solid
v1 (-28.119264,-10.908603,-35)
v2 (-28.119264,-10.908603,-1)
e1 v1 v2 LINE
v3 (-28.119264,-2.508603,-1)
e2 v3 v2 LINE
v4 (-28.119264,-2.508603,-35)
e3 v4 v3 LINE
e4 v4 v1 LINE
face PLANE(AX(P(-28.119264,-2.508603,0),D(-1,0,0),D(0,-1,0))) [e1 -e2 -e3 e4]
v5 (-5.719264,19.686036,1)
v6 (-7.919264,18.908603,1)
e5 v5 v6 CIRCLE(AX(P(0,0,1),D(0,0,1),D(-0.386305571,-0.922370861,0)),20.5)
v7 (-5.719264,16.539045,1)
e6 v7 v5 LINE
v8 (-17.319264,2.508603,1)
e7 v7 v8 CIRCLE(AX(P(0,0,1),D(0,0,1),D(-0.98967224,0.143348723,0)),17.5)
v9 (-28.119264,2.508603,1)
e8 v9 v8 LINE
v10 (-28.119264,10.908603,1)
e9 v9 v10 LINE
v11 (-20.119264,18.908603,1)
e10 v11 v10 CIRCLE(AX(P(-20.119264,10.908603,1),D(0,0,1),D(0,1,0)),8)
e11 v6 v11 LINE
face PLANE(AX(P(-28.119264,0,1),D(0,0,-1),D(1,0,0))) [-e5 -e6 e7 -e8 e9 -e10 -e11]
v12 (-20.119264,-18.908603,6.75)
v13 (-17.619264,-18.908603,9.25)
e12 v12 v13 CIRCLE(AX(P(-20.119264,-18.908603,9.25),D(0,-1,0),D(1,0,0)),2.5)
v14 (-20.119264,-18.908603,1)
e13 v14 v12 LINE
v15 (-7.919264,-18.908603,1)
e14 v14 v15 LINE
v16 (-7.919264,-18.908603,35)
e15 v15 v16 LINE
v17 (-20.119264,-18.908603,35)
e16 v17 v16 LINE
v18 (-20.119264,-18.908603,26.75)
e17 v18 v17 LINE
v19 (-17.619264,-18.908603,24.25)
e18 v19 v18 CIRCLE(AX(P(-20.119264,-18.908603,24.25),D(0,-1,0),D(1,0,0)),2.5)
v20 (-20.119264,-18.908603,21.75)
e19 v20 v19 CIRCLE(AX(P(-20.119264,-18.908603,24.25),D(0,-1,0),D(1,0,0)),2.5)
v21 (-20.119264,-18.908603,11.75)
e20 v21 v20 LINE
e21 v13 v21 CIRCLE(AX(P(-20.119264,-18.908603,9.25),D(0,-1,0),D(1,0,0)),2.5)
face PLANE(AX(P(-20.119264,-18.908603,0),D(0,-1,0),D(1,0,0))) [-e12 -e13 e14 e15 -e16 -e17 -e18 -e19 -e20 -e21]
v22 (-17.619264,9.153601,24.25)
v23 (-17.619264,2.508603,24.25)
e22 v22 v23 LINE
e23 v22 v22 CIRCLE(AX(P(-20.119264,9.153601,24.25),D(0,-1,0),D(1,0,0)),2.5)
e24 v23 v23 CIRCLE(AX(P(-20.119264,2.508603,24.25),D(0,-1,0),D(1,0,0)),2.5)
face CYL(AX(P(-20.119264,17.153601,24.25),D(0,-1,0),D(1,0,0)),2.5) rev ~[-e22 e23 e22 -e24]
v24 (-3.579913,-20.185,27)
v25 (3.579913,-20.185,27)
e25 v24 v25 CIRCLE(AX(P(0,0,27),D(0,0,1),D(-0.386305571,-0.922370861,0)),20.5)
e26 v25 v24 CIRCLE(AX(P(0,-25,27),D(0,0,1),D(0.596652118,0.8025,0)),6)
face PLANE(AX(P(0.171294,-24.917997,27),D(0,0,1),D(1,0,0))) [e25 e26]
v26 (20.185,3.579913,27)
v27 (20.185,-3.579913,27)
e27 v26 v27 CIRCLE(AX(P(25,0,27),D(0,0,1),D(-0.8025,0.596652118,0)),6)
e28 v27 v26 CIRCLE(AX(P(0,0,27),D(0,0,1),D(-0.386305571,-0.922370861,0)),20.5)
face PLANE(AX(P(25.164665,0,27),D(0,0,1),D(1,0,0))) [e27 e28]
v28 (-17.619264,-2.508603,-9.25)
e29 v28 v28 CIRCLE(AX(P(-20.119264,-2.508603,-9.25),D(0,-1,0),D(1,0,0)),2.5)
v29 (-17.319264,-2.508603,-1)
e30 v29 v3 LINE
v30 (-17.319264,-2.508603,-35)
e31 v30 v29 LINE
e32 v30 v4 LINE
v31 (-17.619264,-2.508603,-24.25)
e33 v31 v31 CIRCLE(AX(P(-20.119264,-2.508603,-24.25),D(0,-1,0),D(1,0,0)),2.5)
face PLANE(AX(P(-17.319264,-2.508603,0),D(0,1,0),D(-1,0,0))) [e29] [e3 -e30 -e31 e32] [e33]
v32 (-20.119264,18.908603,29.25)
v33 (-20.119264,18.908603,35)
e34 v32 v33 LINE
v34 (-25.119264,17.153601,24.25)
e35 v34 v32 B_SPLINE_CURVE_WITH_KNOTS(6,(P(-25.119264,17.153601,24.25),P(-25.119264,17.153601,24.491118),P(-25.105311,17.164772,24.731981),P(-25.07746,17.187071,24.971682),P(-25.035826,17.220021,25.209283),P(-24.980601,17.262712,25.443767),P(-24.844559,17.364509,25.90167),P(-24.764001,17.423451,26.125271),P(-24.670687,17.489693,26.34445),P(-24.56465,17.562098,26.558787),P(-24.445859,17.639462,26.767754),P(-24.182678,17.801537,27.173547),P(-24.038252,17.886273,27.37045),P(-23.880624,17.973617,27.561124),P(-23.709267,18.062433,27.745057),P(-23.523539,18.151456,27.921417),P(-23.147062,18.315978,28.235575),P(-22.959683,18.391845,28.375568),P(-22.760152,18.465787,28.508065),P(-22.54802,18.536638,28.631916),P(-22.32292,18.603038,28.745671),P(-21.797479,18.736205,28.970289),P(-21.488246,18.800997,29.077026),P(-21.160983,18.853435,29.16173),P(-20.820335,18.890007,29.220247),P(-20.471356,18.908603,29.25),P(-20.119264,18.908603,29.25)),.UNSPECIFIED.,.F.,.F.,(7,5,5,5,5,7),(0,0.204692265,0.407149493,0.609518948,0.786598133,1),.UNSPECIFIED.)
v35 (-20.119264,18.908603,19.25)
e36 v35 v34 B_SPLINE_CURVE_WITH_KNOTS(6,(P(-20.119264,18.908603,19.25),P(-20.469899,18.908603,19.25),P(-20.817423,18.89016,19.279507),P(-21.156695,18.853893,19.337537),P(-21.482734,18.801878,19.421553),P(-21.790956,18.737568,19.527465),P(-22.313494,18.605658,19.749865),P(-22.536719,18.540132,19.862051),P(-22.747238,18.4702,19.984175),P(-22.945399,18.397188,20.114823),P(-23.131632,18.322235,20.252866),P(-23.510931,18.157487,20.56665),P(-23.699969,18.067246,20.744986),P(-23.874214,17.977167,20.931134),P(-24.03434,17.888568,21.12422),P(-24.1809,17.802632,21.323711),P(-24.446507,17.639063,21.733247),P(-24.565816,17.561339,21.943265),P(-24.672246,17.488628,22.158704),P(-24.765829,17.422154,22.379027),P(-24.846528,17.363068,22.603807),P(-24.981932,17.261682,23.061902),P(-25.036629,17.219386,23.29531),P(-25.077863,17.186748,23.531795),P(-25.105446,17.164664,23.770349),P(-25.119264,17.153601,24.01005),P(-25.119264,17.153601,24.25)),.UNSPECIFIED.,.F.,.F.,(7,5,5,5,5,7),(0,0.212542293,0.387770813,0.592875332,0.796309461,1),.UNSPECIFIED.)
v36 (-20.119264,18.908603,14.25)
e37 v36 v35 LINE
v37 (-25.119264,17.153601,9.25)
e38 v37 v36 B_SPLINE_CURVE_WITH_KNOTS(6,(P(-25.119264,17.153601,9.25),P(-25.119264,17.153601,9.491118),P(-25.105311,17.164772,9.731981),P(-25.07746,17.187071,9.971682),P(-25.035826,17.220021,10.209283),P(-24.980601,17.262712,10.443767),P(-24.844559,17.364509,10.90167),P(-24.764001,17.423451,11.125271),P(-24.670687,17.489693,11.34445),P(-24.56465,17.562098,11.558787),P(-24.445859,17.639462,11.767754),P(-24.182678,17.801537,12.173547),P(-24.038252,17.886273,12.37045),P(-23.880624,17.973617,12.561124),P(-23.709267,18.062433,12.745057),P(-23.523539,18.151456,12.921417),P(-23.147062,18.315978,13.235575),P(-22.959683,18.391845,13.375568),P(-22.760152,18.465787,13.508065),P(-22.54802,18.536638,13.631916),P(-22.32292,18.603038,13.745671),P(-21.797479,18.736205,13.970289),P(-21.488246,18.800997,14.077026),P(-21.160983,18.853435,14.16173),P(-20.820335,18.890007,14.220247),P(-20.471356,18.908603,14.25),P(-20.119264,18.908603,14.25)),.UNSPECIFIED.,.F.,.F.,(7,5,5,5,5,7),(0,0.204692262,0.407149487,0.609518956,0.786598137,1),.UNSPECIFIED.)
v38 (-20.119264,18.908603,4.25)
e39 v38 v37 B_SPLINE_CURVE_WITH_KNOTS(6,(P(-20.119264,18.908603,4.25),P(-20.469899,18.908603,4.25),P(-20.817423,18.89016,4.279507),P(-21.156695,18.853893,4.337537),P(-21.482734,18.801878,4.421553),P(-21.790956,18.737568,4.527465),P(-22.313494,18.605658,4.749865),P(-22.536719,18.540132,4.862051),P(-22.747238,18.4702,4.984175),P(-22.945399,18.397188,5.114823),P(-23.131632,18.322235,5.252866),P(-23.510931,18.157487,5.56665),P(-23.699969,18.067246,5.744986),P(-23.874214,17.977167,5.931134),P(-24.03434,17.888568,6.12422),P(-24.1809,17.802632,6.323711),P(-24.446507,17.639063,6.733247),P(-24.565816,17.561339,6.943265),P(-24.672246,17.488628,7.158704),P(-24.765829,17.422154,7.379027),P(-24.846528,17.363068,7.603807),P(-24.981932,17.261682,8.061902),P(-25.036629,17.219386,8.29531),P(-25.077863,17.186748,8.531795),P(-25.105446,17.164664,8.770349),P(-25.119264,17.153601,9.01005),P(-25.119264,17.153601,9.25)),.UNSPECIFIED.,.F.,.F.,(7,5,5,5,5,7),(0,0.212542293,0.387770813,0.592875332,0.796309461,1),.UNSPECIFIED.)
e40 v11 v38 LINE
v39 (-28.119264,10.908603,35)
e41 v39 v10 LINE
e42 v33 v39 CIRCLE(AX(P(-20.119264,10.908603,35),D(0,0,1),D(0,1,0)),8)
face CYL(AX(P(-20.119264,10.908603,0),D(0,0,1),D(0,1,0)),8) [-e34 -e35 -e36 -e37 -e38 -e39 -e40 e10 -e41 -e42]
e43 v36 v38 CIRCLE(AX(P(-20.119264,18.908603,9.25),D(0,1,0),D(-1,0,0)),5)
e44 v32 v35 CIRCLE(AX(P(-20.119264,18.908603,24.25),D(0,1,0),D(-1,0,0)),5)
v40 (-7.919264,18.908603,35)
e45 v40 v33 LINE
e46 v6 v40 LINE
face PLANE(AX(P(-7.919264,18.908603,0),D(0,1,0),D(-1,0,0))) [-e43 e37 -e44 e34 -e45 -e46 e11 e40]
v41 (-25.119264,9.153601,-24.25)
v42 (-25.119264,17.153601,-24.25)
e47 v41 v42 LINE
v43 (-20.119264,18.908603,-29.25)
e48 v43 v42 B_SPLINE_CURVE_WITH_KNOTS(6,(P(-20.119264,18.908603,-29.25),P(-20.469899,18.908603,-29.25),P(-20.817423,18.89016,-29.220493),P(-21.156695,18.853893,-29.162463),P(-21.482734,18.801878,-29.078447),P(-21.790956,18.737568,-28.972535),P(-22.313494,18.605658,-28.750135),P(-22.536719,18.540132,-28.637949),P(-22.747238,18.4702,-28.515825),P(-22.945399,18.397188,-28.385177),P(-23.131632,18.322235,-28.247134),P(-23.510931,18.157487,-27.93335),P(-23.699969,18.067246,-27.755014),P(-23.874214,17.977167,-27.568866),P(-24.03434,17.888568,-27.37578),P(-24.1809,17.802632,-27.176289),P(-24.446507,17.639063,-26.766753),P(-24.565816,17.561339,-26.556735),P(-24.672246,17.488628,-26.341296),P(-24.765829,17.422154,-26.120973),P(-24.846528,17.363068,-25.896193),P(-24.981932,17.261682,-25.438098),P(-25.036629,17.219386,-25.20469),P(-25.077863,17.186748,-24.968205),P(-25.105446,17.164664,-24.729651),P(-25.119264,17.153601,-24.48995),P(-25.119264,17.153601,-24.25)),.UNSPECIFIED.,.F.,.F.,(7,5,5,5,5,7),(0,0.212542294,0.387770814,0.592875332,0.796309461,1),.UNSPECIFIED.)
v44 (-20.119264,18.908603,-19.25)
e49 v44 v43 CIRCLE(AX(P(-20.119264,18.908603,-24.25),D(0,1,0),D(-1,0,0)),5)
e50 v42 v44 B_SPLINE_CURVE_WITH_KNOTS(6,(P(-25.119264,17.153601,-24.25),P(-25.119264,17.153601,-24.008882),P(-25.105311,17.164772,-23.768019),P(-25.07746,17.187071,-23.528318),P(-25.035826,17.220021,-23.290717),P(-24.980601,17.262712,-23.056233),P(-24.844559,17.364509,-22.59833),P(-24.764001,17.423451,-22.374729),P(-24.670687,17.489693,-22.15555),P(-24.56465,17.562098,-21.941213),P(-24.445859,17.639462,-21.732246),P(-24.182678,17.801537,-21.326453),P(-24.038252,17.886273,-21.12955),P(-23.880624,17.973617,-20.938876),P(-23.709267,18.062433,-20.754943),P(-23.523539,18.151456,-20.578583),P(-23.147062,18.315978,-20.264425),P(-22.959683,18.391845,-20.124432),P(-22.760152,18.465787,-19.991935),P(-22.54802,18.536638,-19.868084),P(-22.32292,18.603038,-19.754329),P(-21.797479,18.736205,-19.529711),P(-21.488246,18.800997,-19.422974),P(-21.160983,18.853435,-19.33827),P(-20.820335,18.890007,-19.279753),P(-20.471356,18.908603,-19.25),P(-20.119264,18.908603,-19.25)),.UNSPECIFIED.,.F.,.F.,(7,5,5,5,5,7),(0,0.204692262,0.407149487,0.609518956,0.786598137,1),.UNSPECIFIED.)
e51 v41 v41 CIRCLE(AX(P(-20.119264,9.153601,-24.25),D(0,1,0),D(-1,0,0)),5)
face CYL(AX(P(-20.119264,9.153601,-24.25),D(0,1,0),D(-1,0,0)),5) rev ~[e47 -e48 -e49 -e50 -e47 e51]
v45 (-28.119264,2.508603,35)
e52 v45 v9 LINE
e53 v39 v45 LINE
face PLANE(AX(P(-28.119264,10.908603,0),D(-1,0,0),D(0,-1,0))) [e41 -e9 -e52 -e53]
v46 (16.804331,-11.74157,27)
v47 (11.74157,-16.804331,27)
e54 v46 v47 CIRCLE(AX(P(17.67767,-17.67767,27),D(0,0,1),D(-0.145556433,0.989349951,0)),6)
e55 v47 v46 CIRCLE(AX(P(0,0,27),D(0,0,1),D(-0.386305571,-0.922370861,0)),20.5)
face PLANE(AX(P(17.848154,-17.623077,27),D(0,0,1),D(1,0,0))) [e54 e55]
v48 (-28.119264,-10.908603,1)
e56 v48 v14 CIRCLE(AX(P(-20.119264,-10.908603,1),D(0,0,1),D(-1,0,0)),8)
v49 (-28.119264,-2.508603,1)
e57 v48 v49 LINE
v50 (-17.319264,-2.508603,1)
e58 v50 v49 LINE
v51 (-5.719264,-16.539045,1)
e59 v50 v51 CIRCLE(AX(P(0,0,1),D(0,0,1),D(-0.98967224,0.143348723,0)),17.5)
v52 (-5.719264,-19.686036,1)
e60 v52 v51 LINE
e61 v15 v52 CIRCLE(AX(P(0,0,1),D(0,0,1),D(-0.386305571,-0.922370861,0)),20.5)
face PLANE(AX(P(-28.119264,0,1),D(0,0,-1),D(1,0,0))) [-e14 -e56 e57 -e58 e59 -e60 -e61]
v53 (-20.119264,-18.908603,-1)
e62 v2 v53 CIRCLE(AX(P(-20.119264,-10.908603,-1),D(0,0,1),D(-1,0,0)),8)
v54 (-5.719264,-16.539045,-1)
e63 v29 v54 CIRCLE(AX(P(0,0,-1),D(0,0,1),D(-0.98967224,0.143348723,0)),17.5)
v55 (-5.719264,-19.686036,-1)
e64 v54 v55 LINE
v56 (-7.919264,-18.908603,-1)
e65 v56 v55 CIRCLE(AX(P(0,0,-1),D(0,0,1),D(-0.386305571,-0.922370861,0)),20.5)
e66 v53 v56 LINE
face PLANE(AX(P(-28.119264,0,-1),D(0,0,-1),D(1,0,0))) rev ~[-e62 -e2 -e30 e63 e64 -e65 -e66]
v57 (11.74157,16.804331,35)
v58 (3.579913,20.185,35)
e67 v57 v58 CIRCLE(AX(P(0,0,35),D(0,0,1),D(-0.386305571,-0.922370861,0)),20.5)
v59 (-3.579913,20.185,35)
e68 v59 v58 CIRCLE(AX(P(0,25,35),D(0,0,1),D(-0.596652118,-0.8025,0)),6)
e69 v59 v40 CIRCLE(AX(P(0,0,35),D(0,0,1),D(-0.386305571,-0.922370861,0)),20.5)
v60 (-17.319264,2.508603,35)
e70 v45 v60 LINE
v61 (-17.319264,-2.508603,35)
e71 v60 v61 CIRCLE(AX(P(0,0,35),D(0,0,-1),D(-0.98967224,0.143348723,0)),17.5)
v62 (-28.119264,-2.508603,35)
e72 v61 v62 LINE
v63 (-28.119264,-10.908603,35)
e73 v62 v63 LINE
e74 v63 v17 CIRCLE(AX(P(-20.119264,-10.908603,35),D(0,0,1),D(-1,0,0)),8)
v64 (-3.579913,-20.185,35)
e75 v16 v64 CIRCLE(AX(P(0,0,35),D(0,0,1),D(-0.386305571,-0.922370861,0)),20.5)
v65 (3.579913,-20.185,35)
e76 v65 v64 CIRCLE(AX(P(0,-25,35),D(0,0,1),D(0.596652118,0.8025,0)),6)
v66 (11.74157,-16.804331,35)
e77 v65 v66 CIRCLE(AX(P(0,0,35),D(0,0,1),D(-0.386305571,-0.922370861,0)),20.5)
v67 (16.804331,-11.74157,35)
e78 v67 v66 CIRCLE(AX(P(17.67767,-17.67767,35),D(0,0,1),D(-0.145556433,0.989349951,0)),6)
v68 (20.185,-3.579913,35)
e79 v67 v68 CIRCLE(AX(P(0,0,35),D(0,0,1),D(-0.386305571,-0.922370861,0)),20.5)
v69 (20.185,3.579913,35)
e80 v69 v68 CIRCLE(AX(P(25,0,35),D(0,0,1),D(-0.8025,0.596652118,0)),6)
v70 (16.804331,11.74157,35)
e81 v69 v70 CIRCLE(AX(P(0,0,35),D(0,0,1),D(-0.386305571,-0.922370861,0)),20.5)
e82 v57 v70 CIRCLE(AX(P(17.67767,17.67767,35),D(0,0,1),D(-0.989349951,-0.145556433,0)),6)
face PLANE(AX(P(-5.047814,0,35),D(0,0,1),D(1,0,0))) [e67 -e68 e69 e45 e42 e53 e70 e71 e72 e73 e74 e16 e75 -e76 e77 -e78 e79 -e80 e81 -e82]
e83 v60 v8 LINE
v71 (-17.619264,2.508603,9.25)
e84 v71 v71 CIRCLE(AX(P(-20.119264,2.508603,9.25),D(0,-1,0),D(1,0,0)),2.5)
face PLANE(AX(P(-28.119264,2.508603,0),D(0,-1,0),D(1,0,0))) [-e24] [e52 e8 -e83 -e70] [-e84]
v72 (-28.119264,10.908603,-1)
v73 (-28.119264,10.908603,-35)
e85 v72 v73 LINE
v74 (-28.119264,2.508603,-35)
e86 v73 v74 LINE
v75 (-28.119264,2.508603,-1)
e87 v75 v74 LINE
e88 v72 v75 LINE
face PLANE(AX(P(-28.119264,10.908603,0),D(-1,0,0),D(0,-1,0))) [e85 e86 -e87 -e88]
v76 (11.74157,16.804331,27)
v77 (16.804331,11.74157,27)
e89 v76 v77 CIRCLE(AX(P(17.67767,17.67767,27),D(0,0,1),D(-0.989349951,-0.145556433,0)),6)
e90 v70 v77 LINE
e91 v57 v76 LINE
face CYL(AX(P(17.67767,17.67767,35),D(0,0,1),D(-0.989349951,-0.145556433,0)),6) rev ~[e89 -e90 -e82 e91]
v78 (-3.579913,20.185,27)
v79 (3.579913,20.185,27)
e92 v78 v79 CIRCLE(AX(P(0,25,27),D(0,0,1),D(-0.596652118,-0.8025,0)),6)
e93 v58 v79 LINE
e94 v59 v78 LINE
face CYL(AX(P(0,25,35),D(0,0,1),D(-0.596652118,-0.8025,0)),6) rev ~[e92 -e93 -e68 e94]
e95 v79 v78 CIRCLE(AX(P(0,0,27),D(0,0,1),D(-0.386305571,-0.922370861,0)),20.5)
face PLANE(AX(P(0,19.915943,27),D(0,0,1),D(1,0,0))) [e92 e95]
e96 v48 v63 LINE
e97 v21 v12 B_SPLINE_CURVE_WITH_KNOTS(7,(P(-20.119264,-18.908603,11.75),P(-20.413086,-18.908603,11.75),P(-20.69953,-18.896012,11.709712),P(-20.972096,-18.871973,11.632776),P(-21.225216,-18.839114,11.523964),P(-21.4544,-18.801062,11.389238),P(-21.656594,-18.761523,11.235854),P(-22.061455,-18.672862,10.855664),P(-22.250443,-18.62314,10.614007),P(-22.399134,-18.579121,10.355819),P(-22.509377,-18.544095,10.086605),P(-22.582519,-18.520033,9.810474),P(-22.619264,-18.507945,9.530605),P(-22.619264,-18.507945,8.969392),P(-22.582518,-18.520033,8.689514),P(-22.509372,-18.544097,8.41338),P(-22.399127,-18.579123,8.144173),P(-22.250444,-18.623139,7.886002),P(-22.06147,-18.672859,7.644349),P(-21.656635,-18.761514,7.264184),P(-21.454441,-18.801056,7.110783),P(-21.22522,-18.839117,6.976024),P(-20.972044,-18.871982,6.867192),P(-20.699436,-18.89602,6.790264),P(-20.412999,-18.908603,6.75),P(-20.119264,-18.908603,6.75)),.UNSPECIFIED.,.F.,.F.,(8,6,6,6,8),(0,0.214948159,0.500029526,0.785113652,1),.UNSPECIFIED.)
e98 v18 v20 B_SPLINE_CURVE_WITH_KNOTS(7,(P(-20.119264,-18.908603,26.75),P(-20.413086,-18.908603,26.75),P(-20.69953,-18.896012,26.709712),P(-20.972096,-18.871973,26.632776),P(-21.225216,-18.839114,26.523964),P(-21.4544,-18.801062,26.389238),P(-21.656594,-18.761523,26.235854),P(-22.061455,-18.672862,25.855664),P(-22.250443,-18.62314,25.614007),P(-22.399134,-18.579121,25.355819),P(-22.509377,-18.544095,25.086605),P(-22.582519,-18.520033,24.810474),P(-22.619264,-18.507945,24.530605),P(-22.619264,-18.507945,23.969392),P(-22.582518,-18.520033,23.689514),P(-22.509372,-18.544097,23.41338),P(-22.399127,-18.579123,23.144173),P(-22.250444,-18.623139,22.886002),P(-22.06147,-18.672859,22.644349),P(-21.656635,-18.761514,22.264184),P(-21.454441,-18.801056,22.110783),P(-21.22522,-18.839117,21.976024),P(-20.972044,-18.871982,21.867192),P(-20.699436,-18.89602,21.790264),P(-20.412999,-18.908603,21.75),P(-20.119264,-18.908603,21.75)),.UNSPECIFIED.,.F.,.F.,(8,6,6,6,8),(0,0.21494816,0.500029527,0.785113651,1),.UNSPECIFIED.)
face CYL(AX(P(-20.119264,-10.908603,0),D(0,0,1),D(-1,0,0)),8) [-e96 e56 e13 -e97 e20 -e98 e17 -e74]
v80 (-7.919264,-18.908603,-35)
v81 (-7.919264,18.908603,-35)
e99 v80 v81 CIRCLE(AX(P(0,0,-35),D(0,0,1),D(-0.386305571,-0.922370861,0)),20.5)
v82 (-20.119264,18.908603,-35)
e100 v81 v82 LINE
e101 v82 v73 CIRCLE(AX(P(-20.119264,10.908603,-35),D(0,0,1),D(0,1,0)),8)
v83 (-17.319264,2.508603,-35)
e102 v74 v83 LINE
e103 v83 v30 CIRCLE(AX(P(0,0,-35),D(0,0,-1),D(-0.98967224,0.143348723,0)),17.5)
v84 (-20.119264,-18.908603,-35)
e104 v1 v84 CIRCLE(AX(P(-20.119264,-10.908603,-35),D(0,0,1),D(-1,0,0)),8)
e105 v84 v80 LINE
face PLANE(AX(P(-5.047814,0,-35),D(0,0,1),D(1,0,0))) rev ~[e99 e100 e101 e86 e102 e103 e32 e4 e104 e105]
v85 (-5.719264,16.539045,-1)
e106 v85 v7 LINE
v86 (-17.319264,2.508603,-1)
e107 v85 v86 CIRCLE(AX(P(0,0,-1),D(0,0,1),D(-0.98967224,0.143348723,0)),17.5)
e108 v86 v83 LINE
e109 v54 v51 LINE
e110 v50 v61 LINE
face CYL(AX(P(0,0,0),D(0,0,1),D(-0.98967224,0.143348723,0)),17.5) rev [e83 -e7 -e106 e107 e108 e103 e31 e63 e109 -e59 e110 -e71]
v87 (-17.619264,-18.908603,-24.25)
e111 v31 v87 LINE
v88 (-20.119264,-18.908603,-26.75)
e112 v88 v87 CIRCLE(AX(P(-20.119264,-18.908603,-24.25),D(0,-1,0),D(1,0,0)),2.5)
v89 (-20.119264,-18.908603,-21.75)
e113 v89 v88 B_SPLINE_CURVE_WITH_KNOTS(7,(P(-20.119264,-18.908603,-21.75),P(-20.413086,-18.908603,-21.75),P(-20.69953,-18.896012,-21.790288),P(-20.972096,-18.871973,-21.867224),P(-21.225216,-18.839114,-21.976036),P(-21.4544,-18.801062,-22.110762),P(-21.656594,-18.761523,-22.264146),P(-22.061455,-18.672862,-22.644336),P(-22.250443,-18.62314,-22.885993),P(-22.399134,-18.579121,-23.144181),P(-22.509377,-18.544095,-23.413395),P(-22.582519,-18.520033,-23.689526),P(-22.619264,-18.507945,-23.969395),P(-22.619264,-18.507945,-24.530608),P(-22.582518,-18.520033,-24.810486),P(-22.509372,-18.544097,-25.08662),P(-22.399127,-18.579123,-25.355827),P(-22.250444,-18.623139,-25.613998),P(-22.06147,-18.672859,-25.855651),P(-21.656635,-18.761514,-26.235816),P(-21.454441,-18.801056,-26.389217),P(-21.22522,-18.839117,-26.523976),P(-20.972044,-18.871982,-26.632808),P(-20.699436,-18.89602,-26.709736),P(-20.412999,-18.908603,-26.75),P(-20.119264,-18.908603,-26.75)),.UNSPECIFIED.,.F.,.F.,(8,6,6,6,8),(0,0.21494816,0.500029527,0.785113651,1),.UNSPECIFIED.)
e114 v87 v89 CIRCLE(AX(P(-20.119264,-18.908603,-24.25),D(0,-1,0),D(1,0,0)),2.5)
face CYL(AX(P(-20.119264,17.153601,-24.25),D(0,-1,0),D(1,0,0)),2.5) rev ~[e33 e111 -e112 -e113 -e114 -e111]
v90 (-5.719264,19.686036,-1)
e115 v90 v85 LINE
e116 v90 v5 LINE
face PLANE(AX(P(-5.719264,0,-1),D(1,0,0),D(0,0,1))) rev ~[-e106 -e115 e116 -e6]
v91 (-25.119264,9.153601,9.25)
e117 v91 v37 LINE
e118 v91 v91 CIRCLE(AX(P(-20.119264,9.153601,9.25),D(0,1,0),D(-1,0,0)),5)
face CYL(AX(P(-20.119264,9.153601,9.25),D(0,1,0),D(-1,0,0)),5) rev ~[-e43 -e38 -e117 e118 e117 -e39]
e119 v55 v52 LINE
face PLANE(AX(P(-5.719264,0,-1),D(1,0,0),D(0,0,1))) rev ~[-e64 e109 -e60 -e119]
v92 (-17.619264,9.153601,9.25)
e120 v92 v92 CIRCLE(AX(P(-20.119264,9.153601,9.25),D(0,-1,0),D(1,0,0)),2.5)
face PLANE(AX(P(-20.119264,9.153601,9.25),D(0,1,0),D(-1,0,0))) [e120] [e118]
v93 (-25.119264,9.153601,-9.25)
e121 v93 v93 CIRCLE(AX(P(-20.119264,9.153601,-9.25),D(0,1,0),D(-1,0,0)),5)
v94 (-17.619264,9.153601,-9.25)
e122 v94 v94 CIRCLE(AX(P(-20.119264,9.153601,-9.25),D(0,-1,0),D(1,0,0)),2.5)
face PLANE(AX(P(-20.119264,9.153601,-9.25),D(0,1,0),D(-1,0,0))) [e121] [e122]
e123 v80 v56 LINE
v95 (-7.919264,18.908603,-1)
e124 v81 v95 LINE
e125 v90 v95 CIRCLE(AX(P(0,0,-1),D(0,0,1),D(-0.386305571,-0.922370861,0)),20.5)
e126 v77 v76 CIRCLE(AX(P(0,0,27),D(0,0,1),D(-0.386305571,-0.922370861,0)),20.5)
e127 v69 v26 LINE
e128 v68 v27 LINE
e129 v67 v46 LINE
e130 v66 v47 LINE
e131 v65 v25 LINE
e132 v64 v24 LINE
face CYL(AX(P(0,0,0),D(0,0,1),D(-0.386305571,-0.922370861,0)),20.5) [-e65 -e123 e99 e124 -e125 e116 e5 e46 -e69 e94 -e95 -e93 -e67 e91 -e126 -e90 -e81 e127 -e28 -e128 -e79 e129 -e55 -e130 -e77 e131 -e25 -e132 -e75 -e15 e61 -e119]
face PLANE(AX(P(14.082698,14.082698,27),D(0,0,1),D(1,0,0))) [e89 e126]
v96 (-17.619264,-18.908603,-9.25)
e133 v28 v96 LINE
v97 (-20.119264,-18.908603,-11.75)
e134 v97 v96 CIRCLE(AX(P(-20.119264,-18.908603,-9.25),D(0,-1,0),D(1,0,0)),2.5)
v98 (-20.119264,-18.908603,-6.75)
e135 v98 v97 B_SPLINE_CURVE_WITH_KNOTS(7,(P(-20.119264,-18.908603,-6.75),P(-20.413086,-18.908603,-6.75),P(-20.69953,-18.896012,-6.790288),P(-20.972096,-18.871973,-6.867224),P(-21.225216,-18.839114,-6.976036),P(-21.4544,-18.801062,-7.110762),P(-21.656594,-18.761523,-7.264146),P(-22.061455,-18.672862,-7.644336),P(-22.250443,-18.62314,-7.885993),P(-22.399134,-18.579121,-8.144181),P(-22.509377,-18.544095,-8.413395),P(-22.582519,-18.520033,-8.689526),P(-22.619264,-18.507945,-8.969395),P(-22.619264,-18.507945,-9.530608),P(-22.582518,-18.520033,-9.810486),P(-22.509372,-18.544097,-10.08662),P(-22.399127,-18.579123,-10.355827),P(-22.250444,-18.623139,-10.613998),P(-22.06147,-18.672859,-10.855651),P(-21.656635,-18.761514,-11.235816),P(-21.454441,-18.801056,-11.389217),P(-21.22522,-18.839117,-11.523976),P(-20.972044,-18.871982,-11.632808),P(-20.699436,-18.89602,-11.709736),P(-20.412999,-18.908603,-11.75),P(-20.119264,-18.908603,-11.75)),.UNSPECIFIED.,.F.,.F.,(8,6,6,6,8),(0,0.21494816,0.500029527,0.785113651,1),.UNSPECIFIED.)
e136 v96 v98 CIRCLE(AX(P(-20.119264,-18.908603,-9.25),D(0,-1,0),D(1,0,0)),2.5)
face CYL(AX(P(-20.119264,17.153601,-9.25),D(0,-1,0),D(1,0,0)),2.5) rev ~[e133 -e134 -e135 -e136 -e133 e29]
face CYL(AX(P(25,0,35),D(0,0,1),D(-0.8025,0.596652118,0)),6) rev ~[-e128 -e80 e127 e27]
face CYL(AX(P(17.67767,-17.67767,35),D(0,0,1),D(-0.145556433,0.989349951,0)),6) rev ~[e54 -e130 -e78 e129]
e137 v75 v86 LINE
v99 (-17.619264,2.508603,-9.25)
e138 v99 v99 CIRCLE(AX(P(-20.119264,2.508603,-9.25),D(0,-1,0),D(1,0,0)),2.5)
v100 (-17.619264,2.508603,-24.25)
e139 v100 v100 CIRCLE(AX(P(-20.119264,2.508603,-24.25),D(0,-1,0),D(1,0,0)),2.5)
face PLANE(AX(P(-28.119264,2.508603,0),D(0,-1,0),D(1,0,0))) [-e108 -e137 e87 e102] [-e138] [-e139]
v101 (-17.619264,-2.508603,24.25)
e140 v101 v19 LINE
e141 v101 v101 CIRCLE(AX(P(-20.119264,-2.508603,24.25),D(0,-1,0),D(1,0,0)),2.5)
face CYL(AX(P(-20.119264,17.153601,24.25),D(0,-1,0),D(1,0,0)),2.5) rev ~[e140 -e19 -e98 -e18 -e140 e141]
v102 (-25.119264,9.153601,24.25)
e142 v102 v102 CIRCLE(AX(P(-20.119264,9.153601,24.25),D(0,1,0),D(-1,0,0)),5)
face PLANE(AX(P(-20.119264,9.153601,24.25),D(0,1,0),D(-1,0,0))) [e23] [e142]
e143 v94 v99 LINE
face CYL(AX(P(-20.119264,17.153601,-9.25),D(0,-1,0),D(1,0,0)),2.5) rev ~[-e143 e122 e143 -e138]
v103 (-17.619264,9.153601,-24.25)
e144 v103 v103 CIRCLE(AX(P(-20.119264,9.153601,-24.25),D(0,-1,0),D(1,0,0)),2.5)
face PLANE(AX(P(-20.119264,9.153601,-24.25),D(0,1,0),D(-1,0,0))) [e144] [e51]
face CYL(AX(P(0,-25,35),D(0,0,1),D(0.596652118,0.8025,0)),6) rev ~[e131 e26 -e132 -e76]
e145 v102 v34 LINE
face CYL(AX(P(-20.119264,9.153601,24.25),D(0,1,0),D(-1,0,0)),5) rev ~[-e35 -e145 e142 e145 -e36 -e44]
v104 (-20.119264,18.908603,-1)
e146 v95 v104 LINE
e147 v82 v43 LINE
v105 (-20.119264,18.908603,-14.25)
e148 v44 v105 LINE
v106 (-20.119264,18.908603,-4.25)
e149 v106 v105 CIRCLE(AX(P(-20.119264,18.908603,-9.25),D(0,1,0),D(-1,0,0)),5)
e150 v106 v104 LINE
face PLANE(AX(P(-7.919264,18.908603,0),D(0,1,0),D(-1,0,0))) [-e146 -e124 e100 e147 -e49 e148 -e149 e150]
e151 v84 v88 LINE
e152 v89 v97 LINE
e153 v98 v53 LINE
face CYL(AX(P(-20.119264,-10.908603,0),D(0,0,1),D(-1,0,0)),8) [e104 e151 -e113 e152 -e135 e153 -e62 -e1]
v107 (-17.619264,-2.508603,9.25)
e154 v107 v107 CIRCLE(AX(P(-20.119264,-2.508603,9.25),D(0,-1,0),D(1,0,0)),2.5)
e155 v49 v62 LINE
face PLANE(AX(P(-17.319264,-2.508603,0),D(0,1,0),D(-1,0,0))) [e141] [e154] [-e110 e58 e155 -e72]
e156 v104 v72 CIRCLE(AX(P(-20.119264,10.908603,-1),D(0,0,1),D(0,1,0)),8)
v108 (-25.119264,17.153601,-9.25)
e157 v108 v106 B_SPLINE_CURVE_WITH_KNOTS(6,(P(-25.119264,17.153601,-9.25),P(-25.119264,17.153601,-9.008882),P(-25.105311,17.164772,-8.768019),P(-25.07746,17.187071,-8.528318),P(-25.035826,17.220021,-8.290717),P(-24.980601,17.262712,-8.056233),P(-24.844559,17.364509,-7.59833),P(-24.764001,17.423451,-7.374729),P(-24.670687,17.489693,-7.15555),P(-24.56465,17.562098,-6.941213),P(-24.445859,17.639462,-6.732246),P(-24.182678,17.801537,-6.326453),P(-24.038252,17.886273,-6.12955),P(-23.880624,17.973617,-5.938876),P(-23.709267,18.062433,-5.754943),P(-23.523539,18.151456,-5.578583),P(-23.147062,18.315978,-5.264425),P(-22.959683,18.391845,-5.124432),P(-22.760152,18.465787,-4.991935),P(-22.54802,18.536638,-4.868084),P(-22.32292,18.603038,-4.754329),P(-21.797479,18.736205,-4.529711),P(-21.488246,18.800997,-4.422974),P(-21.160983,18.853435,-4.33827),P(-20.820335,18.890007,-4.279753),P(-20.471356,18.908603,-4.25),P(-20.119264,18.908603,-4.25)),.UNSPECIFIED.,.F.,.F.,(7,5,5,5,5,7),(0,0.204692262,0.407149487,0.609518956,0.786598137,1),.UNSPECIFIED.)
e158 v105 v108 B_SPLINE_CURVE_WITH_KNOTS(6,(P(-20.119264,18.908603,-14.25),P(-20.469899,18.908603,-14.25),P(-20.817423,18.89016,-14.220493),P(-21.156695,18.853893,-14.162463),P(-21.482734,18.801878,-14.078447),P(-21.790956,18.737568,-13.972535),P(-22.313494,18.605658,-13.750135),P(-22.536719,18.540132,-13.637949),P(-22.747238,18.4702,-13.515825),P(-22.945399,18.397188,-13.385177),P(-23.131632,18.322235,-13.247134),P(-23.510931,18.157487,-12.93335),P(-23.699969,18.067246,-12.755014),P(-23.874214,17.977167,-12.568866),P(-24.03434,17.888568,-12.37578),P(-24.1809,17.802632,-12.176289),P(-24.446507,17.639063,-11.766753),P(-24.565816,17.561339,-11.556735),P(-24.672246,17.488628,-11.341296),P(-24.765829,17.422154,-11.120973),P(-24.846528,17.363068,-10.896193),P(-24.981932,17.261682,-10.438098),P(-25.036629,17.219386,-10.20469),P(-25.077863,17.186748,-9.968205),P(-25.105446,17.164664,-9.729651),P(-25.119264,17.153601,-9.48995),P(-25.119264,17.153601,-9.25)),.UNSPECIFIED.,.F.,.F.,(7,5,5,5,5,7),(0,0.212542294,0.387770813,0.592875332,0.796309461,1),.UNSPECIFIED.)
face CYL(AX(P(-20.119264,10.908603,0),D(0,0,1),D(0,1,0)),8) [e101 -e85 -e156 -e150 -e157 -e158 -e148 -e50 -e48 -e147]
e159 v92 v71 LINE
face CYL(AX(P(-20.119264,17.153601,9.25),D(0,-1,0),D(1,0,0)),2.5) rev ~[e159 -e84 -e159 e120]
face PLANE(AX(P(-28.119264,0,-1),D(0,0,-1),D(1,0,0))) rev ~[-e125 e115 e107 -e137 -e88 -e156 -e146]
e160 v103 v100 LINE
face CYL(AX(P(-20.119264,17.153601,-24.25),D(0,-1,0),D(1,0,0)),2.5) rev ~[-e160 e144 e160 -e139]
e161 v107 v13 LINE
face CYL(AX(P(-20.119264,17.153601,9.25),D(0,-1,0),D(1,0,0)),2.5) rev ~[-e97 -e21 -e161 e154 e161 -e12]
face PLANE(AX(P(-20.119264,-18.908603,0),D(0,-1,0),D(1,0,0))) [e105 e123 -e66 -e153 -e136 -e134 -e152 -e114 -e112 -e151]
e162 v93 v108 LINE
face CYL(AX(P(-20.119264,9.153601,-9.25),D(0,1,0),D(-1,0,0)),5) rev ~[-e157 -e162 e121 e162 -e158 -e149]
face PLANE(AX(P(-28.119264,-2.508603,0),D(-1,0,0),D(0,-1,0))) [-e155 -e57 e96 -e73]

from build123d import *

# Parameters (mm, degrees)
F1_DEPTH       = 35
F3_D           = 5
F3_START       = 1.7550021
F3_CBORE_D     = 10
F3_CBORE_DEPTH = 8
F4_W           = 22.4
F4_H           = 2
F5_DEPTH       = 25
F7_DEPTH       = 8


with BuildPart() as f1:
    # F0 (on Top) → F1 (new body, symmetric)
    with BuildSketch(Plane.XY):
        with BuildLine():
            ThreePointArc((-17.3192642082, 2.5086026559), (17.5, 0), (-17.3192642082, -2.5086026559))
            Line((-17.3192642082, -2.5086026559), (-28.1192642082, -2.5086026559))
            Line((-28.1192642082, -2.5086026559), (-28.1192642082, -10.9086026559))
            ThreePointArc((-28.1192642082, -10.9086026559), (-25.7761184577, -16.5654569054), (-20.1192642082, -18.9086026559))
            Line((-20.1192642082, -18.9086026559), (-7.9192642082, -18.9086026559))
            ThreePointArc((-7.9192642082, -18.9086026559), (20.5, 0), (-7.9192642082, 18.9086026559))
            Line((-7.9192642082, 18.9086026559), (-20.1192642082, 18.9086026559))
            ThreePointArc((-20.1192642082, 18.9086026559), (-25.7761184577, 16.5654569054), (-28.1192642082, 10.9086026559))
            Line((-28.1192642082, 10.9086026559), (-28.1192642082, 2.5086026559))
            Line((-28.1192642082, 2.5086026559), (-17.3192642082, 2.5086026559))
        make_face()
    extrude(amount=F1_DEPTH, both=True)

    # F3 (through all)
    # its depths count from where the whole tool has entered the part; down to there all is cleared
    with Locations(Plane(origin=(0, 18.9086026559, 0), x_dir=(-1, 0, 0), z_dir=(0, 1, 0)).offset(-F3_START)):
        with Locations((20.1192642082, -24.25), (20.1192642082, -9.25), (20.1192642082, 9.25), (20.1192642082, 24.25)):
            CounterBoreHole(F3_D / 2, F3_CBORE_D / 2, F3_CBORE_DEPTH)

    # F4 (on Front) → F5 (cut, symmetric)
    with BuildSketch(Plane.XZ):
        with Locations((-16.9192642082, 0)):
            Rectangle(F4_W, F4_H)
    extrude(amount=F5_DEPTH, both=True, mode=Mode.SUBTRACT)

    # F6 (on face) → F7 (cut)
    with BuildSketch(Plane.XY.offset(35)):
        with BuildLine():
            ThreePointArc((-3.5799127084, 20.185), (0, 19), (3.5799127084, 20.185))
            ThreePointArc((3.5799127084, 20.185), (0, 20.5), (-3.5799127084, 20.185))
        make_face()
        with BuildLine():
            ThreePointArc((11.7415698261, 16.8043309304), (13.4350288425, 13.4350288425), (16.8043309304, 11.7415698261))
            ThreePointArc((16.8043309304, 11.7415698261), (14.4956890143, 14.4956890143), (11.7415698261, 16.8043309304))
        make_face()
        with BuildLine():
            ThreePointArc((-3.5799127084, 20.185), (0, 20.5), (3.5799127084, 20.185))
            ThreePointArc((3.5799127084, 20.185), (5.3609456372, 22.305512688), (6, 25))
            ThreePointArc((6, 25), (-2.694487312, 30.3609456372), (-3.5799127084, 20.185))
        make_face()
        with BuildLine():
            ThreePointArc((11.7415698261, 16.8043309304), (14.4956890143, 14.4956890143), (16.8043309304, 11.7415698261))
            ThreePointArc((16.8043309304, 11.7415698261), (21.5994018258, 13.1367427743), (23.6776695297, 17.6776695297))
            ThreePointArc((23.6776695297, 17.6776695297), (17.2398329286, 23.6616731318), (11.7415698261, 16.8043309304))
        make_face()
        with BuildLine():
            ThreePointArc((20.185, 3.5799127084), (20.5, 0), (20.185, -3.5799127084))
            ThreePointArc((20.185, -3.5799127084), (26.8854707635, -5.6960512638), (31, 0))
            ThreePointArc((31, 0), (26.8854707635, 5.6960512638), (20.185, 3.5799127084))
        make_face()
        with BuildLine():
            ThreePointArc((20.185, 3.5799127084), (19, 0), (20.185, -3.5799127084))
            ThreePointArc((20.185, -3.5799127084), (20.5, 0), (20.185, 3.5799127084))
        make_face()
        with BuildLine():
            ThreePointArc((16.8043309304, -11.7415698261), (14.4956890143, -14.4956890143), (11.7415698261, -16.8043309304))
            ThreePointArc((11.7415698261, -16.8043309304), (17.2398329286, -23.6616731318), (23.6776695297, -17.6776695297))
            ThreePointArc((23.6776695297, -17.6776695297), (21.5994018258, -13.1367427743), (16.8043309304, -11.7415698261))
        make_face()
        with BuildLine():
            ThreePointArc((-3.5799127084, -20.185), (-2.694487312, -30.3609456372), (6, -25))
            ThreePointArc((6, -25), (5.3609456372, -22.305512688), (3.5799127084, -20.185))
            ThreePointArc((3.5799127084, -20.185), (0, -20.5), (-3.5799127084, -20.185))
        make_face()
        with BuildLine():
            ThreePointArc((16.8043309304, -11.7415698261), (13.4350288425, -13.4350288425), (11.7415698261, -16.8043309304))
            ThreePointArc((11.7415698261, -16.8043309304), (14.4956890143, -14.4956890143), (16.8043309304, -11.7415698261))
        make_face()
        with BuildLine():
            ThreePointArc((-3.5799127084, -20.185), (0, -20.5), (3.5799127084, -20.185))
            ThreePointArc((3.5799127084, -20.185), (0, -19), (-3.5799127084, -20.185))
        make_face()
    extrude(amount=-F7_DEPTH, mode=Mode.SUBTRACT)


solid = f1.part
